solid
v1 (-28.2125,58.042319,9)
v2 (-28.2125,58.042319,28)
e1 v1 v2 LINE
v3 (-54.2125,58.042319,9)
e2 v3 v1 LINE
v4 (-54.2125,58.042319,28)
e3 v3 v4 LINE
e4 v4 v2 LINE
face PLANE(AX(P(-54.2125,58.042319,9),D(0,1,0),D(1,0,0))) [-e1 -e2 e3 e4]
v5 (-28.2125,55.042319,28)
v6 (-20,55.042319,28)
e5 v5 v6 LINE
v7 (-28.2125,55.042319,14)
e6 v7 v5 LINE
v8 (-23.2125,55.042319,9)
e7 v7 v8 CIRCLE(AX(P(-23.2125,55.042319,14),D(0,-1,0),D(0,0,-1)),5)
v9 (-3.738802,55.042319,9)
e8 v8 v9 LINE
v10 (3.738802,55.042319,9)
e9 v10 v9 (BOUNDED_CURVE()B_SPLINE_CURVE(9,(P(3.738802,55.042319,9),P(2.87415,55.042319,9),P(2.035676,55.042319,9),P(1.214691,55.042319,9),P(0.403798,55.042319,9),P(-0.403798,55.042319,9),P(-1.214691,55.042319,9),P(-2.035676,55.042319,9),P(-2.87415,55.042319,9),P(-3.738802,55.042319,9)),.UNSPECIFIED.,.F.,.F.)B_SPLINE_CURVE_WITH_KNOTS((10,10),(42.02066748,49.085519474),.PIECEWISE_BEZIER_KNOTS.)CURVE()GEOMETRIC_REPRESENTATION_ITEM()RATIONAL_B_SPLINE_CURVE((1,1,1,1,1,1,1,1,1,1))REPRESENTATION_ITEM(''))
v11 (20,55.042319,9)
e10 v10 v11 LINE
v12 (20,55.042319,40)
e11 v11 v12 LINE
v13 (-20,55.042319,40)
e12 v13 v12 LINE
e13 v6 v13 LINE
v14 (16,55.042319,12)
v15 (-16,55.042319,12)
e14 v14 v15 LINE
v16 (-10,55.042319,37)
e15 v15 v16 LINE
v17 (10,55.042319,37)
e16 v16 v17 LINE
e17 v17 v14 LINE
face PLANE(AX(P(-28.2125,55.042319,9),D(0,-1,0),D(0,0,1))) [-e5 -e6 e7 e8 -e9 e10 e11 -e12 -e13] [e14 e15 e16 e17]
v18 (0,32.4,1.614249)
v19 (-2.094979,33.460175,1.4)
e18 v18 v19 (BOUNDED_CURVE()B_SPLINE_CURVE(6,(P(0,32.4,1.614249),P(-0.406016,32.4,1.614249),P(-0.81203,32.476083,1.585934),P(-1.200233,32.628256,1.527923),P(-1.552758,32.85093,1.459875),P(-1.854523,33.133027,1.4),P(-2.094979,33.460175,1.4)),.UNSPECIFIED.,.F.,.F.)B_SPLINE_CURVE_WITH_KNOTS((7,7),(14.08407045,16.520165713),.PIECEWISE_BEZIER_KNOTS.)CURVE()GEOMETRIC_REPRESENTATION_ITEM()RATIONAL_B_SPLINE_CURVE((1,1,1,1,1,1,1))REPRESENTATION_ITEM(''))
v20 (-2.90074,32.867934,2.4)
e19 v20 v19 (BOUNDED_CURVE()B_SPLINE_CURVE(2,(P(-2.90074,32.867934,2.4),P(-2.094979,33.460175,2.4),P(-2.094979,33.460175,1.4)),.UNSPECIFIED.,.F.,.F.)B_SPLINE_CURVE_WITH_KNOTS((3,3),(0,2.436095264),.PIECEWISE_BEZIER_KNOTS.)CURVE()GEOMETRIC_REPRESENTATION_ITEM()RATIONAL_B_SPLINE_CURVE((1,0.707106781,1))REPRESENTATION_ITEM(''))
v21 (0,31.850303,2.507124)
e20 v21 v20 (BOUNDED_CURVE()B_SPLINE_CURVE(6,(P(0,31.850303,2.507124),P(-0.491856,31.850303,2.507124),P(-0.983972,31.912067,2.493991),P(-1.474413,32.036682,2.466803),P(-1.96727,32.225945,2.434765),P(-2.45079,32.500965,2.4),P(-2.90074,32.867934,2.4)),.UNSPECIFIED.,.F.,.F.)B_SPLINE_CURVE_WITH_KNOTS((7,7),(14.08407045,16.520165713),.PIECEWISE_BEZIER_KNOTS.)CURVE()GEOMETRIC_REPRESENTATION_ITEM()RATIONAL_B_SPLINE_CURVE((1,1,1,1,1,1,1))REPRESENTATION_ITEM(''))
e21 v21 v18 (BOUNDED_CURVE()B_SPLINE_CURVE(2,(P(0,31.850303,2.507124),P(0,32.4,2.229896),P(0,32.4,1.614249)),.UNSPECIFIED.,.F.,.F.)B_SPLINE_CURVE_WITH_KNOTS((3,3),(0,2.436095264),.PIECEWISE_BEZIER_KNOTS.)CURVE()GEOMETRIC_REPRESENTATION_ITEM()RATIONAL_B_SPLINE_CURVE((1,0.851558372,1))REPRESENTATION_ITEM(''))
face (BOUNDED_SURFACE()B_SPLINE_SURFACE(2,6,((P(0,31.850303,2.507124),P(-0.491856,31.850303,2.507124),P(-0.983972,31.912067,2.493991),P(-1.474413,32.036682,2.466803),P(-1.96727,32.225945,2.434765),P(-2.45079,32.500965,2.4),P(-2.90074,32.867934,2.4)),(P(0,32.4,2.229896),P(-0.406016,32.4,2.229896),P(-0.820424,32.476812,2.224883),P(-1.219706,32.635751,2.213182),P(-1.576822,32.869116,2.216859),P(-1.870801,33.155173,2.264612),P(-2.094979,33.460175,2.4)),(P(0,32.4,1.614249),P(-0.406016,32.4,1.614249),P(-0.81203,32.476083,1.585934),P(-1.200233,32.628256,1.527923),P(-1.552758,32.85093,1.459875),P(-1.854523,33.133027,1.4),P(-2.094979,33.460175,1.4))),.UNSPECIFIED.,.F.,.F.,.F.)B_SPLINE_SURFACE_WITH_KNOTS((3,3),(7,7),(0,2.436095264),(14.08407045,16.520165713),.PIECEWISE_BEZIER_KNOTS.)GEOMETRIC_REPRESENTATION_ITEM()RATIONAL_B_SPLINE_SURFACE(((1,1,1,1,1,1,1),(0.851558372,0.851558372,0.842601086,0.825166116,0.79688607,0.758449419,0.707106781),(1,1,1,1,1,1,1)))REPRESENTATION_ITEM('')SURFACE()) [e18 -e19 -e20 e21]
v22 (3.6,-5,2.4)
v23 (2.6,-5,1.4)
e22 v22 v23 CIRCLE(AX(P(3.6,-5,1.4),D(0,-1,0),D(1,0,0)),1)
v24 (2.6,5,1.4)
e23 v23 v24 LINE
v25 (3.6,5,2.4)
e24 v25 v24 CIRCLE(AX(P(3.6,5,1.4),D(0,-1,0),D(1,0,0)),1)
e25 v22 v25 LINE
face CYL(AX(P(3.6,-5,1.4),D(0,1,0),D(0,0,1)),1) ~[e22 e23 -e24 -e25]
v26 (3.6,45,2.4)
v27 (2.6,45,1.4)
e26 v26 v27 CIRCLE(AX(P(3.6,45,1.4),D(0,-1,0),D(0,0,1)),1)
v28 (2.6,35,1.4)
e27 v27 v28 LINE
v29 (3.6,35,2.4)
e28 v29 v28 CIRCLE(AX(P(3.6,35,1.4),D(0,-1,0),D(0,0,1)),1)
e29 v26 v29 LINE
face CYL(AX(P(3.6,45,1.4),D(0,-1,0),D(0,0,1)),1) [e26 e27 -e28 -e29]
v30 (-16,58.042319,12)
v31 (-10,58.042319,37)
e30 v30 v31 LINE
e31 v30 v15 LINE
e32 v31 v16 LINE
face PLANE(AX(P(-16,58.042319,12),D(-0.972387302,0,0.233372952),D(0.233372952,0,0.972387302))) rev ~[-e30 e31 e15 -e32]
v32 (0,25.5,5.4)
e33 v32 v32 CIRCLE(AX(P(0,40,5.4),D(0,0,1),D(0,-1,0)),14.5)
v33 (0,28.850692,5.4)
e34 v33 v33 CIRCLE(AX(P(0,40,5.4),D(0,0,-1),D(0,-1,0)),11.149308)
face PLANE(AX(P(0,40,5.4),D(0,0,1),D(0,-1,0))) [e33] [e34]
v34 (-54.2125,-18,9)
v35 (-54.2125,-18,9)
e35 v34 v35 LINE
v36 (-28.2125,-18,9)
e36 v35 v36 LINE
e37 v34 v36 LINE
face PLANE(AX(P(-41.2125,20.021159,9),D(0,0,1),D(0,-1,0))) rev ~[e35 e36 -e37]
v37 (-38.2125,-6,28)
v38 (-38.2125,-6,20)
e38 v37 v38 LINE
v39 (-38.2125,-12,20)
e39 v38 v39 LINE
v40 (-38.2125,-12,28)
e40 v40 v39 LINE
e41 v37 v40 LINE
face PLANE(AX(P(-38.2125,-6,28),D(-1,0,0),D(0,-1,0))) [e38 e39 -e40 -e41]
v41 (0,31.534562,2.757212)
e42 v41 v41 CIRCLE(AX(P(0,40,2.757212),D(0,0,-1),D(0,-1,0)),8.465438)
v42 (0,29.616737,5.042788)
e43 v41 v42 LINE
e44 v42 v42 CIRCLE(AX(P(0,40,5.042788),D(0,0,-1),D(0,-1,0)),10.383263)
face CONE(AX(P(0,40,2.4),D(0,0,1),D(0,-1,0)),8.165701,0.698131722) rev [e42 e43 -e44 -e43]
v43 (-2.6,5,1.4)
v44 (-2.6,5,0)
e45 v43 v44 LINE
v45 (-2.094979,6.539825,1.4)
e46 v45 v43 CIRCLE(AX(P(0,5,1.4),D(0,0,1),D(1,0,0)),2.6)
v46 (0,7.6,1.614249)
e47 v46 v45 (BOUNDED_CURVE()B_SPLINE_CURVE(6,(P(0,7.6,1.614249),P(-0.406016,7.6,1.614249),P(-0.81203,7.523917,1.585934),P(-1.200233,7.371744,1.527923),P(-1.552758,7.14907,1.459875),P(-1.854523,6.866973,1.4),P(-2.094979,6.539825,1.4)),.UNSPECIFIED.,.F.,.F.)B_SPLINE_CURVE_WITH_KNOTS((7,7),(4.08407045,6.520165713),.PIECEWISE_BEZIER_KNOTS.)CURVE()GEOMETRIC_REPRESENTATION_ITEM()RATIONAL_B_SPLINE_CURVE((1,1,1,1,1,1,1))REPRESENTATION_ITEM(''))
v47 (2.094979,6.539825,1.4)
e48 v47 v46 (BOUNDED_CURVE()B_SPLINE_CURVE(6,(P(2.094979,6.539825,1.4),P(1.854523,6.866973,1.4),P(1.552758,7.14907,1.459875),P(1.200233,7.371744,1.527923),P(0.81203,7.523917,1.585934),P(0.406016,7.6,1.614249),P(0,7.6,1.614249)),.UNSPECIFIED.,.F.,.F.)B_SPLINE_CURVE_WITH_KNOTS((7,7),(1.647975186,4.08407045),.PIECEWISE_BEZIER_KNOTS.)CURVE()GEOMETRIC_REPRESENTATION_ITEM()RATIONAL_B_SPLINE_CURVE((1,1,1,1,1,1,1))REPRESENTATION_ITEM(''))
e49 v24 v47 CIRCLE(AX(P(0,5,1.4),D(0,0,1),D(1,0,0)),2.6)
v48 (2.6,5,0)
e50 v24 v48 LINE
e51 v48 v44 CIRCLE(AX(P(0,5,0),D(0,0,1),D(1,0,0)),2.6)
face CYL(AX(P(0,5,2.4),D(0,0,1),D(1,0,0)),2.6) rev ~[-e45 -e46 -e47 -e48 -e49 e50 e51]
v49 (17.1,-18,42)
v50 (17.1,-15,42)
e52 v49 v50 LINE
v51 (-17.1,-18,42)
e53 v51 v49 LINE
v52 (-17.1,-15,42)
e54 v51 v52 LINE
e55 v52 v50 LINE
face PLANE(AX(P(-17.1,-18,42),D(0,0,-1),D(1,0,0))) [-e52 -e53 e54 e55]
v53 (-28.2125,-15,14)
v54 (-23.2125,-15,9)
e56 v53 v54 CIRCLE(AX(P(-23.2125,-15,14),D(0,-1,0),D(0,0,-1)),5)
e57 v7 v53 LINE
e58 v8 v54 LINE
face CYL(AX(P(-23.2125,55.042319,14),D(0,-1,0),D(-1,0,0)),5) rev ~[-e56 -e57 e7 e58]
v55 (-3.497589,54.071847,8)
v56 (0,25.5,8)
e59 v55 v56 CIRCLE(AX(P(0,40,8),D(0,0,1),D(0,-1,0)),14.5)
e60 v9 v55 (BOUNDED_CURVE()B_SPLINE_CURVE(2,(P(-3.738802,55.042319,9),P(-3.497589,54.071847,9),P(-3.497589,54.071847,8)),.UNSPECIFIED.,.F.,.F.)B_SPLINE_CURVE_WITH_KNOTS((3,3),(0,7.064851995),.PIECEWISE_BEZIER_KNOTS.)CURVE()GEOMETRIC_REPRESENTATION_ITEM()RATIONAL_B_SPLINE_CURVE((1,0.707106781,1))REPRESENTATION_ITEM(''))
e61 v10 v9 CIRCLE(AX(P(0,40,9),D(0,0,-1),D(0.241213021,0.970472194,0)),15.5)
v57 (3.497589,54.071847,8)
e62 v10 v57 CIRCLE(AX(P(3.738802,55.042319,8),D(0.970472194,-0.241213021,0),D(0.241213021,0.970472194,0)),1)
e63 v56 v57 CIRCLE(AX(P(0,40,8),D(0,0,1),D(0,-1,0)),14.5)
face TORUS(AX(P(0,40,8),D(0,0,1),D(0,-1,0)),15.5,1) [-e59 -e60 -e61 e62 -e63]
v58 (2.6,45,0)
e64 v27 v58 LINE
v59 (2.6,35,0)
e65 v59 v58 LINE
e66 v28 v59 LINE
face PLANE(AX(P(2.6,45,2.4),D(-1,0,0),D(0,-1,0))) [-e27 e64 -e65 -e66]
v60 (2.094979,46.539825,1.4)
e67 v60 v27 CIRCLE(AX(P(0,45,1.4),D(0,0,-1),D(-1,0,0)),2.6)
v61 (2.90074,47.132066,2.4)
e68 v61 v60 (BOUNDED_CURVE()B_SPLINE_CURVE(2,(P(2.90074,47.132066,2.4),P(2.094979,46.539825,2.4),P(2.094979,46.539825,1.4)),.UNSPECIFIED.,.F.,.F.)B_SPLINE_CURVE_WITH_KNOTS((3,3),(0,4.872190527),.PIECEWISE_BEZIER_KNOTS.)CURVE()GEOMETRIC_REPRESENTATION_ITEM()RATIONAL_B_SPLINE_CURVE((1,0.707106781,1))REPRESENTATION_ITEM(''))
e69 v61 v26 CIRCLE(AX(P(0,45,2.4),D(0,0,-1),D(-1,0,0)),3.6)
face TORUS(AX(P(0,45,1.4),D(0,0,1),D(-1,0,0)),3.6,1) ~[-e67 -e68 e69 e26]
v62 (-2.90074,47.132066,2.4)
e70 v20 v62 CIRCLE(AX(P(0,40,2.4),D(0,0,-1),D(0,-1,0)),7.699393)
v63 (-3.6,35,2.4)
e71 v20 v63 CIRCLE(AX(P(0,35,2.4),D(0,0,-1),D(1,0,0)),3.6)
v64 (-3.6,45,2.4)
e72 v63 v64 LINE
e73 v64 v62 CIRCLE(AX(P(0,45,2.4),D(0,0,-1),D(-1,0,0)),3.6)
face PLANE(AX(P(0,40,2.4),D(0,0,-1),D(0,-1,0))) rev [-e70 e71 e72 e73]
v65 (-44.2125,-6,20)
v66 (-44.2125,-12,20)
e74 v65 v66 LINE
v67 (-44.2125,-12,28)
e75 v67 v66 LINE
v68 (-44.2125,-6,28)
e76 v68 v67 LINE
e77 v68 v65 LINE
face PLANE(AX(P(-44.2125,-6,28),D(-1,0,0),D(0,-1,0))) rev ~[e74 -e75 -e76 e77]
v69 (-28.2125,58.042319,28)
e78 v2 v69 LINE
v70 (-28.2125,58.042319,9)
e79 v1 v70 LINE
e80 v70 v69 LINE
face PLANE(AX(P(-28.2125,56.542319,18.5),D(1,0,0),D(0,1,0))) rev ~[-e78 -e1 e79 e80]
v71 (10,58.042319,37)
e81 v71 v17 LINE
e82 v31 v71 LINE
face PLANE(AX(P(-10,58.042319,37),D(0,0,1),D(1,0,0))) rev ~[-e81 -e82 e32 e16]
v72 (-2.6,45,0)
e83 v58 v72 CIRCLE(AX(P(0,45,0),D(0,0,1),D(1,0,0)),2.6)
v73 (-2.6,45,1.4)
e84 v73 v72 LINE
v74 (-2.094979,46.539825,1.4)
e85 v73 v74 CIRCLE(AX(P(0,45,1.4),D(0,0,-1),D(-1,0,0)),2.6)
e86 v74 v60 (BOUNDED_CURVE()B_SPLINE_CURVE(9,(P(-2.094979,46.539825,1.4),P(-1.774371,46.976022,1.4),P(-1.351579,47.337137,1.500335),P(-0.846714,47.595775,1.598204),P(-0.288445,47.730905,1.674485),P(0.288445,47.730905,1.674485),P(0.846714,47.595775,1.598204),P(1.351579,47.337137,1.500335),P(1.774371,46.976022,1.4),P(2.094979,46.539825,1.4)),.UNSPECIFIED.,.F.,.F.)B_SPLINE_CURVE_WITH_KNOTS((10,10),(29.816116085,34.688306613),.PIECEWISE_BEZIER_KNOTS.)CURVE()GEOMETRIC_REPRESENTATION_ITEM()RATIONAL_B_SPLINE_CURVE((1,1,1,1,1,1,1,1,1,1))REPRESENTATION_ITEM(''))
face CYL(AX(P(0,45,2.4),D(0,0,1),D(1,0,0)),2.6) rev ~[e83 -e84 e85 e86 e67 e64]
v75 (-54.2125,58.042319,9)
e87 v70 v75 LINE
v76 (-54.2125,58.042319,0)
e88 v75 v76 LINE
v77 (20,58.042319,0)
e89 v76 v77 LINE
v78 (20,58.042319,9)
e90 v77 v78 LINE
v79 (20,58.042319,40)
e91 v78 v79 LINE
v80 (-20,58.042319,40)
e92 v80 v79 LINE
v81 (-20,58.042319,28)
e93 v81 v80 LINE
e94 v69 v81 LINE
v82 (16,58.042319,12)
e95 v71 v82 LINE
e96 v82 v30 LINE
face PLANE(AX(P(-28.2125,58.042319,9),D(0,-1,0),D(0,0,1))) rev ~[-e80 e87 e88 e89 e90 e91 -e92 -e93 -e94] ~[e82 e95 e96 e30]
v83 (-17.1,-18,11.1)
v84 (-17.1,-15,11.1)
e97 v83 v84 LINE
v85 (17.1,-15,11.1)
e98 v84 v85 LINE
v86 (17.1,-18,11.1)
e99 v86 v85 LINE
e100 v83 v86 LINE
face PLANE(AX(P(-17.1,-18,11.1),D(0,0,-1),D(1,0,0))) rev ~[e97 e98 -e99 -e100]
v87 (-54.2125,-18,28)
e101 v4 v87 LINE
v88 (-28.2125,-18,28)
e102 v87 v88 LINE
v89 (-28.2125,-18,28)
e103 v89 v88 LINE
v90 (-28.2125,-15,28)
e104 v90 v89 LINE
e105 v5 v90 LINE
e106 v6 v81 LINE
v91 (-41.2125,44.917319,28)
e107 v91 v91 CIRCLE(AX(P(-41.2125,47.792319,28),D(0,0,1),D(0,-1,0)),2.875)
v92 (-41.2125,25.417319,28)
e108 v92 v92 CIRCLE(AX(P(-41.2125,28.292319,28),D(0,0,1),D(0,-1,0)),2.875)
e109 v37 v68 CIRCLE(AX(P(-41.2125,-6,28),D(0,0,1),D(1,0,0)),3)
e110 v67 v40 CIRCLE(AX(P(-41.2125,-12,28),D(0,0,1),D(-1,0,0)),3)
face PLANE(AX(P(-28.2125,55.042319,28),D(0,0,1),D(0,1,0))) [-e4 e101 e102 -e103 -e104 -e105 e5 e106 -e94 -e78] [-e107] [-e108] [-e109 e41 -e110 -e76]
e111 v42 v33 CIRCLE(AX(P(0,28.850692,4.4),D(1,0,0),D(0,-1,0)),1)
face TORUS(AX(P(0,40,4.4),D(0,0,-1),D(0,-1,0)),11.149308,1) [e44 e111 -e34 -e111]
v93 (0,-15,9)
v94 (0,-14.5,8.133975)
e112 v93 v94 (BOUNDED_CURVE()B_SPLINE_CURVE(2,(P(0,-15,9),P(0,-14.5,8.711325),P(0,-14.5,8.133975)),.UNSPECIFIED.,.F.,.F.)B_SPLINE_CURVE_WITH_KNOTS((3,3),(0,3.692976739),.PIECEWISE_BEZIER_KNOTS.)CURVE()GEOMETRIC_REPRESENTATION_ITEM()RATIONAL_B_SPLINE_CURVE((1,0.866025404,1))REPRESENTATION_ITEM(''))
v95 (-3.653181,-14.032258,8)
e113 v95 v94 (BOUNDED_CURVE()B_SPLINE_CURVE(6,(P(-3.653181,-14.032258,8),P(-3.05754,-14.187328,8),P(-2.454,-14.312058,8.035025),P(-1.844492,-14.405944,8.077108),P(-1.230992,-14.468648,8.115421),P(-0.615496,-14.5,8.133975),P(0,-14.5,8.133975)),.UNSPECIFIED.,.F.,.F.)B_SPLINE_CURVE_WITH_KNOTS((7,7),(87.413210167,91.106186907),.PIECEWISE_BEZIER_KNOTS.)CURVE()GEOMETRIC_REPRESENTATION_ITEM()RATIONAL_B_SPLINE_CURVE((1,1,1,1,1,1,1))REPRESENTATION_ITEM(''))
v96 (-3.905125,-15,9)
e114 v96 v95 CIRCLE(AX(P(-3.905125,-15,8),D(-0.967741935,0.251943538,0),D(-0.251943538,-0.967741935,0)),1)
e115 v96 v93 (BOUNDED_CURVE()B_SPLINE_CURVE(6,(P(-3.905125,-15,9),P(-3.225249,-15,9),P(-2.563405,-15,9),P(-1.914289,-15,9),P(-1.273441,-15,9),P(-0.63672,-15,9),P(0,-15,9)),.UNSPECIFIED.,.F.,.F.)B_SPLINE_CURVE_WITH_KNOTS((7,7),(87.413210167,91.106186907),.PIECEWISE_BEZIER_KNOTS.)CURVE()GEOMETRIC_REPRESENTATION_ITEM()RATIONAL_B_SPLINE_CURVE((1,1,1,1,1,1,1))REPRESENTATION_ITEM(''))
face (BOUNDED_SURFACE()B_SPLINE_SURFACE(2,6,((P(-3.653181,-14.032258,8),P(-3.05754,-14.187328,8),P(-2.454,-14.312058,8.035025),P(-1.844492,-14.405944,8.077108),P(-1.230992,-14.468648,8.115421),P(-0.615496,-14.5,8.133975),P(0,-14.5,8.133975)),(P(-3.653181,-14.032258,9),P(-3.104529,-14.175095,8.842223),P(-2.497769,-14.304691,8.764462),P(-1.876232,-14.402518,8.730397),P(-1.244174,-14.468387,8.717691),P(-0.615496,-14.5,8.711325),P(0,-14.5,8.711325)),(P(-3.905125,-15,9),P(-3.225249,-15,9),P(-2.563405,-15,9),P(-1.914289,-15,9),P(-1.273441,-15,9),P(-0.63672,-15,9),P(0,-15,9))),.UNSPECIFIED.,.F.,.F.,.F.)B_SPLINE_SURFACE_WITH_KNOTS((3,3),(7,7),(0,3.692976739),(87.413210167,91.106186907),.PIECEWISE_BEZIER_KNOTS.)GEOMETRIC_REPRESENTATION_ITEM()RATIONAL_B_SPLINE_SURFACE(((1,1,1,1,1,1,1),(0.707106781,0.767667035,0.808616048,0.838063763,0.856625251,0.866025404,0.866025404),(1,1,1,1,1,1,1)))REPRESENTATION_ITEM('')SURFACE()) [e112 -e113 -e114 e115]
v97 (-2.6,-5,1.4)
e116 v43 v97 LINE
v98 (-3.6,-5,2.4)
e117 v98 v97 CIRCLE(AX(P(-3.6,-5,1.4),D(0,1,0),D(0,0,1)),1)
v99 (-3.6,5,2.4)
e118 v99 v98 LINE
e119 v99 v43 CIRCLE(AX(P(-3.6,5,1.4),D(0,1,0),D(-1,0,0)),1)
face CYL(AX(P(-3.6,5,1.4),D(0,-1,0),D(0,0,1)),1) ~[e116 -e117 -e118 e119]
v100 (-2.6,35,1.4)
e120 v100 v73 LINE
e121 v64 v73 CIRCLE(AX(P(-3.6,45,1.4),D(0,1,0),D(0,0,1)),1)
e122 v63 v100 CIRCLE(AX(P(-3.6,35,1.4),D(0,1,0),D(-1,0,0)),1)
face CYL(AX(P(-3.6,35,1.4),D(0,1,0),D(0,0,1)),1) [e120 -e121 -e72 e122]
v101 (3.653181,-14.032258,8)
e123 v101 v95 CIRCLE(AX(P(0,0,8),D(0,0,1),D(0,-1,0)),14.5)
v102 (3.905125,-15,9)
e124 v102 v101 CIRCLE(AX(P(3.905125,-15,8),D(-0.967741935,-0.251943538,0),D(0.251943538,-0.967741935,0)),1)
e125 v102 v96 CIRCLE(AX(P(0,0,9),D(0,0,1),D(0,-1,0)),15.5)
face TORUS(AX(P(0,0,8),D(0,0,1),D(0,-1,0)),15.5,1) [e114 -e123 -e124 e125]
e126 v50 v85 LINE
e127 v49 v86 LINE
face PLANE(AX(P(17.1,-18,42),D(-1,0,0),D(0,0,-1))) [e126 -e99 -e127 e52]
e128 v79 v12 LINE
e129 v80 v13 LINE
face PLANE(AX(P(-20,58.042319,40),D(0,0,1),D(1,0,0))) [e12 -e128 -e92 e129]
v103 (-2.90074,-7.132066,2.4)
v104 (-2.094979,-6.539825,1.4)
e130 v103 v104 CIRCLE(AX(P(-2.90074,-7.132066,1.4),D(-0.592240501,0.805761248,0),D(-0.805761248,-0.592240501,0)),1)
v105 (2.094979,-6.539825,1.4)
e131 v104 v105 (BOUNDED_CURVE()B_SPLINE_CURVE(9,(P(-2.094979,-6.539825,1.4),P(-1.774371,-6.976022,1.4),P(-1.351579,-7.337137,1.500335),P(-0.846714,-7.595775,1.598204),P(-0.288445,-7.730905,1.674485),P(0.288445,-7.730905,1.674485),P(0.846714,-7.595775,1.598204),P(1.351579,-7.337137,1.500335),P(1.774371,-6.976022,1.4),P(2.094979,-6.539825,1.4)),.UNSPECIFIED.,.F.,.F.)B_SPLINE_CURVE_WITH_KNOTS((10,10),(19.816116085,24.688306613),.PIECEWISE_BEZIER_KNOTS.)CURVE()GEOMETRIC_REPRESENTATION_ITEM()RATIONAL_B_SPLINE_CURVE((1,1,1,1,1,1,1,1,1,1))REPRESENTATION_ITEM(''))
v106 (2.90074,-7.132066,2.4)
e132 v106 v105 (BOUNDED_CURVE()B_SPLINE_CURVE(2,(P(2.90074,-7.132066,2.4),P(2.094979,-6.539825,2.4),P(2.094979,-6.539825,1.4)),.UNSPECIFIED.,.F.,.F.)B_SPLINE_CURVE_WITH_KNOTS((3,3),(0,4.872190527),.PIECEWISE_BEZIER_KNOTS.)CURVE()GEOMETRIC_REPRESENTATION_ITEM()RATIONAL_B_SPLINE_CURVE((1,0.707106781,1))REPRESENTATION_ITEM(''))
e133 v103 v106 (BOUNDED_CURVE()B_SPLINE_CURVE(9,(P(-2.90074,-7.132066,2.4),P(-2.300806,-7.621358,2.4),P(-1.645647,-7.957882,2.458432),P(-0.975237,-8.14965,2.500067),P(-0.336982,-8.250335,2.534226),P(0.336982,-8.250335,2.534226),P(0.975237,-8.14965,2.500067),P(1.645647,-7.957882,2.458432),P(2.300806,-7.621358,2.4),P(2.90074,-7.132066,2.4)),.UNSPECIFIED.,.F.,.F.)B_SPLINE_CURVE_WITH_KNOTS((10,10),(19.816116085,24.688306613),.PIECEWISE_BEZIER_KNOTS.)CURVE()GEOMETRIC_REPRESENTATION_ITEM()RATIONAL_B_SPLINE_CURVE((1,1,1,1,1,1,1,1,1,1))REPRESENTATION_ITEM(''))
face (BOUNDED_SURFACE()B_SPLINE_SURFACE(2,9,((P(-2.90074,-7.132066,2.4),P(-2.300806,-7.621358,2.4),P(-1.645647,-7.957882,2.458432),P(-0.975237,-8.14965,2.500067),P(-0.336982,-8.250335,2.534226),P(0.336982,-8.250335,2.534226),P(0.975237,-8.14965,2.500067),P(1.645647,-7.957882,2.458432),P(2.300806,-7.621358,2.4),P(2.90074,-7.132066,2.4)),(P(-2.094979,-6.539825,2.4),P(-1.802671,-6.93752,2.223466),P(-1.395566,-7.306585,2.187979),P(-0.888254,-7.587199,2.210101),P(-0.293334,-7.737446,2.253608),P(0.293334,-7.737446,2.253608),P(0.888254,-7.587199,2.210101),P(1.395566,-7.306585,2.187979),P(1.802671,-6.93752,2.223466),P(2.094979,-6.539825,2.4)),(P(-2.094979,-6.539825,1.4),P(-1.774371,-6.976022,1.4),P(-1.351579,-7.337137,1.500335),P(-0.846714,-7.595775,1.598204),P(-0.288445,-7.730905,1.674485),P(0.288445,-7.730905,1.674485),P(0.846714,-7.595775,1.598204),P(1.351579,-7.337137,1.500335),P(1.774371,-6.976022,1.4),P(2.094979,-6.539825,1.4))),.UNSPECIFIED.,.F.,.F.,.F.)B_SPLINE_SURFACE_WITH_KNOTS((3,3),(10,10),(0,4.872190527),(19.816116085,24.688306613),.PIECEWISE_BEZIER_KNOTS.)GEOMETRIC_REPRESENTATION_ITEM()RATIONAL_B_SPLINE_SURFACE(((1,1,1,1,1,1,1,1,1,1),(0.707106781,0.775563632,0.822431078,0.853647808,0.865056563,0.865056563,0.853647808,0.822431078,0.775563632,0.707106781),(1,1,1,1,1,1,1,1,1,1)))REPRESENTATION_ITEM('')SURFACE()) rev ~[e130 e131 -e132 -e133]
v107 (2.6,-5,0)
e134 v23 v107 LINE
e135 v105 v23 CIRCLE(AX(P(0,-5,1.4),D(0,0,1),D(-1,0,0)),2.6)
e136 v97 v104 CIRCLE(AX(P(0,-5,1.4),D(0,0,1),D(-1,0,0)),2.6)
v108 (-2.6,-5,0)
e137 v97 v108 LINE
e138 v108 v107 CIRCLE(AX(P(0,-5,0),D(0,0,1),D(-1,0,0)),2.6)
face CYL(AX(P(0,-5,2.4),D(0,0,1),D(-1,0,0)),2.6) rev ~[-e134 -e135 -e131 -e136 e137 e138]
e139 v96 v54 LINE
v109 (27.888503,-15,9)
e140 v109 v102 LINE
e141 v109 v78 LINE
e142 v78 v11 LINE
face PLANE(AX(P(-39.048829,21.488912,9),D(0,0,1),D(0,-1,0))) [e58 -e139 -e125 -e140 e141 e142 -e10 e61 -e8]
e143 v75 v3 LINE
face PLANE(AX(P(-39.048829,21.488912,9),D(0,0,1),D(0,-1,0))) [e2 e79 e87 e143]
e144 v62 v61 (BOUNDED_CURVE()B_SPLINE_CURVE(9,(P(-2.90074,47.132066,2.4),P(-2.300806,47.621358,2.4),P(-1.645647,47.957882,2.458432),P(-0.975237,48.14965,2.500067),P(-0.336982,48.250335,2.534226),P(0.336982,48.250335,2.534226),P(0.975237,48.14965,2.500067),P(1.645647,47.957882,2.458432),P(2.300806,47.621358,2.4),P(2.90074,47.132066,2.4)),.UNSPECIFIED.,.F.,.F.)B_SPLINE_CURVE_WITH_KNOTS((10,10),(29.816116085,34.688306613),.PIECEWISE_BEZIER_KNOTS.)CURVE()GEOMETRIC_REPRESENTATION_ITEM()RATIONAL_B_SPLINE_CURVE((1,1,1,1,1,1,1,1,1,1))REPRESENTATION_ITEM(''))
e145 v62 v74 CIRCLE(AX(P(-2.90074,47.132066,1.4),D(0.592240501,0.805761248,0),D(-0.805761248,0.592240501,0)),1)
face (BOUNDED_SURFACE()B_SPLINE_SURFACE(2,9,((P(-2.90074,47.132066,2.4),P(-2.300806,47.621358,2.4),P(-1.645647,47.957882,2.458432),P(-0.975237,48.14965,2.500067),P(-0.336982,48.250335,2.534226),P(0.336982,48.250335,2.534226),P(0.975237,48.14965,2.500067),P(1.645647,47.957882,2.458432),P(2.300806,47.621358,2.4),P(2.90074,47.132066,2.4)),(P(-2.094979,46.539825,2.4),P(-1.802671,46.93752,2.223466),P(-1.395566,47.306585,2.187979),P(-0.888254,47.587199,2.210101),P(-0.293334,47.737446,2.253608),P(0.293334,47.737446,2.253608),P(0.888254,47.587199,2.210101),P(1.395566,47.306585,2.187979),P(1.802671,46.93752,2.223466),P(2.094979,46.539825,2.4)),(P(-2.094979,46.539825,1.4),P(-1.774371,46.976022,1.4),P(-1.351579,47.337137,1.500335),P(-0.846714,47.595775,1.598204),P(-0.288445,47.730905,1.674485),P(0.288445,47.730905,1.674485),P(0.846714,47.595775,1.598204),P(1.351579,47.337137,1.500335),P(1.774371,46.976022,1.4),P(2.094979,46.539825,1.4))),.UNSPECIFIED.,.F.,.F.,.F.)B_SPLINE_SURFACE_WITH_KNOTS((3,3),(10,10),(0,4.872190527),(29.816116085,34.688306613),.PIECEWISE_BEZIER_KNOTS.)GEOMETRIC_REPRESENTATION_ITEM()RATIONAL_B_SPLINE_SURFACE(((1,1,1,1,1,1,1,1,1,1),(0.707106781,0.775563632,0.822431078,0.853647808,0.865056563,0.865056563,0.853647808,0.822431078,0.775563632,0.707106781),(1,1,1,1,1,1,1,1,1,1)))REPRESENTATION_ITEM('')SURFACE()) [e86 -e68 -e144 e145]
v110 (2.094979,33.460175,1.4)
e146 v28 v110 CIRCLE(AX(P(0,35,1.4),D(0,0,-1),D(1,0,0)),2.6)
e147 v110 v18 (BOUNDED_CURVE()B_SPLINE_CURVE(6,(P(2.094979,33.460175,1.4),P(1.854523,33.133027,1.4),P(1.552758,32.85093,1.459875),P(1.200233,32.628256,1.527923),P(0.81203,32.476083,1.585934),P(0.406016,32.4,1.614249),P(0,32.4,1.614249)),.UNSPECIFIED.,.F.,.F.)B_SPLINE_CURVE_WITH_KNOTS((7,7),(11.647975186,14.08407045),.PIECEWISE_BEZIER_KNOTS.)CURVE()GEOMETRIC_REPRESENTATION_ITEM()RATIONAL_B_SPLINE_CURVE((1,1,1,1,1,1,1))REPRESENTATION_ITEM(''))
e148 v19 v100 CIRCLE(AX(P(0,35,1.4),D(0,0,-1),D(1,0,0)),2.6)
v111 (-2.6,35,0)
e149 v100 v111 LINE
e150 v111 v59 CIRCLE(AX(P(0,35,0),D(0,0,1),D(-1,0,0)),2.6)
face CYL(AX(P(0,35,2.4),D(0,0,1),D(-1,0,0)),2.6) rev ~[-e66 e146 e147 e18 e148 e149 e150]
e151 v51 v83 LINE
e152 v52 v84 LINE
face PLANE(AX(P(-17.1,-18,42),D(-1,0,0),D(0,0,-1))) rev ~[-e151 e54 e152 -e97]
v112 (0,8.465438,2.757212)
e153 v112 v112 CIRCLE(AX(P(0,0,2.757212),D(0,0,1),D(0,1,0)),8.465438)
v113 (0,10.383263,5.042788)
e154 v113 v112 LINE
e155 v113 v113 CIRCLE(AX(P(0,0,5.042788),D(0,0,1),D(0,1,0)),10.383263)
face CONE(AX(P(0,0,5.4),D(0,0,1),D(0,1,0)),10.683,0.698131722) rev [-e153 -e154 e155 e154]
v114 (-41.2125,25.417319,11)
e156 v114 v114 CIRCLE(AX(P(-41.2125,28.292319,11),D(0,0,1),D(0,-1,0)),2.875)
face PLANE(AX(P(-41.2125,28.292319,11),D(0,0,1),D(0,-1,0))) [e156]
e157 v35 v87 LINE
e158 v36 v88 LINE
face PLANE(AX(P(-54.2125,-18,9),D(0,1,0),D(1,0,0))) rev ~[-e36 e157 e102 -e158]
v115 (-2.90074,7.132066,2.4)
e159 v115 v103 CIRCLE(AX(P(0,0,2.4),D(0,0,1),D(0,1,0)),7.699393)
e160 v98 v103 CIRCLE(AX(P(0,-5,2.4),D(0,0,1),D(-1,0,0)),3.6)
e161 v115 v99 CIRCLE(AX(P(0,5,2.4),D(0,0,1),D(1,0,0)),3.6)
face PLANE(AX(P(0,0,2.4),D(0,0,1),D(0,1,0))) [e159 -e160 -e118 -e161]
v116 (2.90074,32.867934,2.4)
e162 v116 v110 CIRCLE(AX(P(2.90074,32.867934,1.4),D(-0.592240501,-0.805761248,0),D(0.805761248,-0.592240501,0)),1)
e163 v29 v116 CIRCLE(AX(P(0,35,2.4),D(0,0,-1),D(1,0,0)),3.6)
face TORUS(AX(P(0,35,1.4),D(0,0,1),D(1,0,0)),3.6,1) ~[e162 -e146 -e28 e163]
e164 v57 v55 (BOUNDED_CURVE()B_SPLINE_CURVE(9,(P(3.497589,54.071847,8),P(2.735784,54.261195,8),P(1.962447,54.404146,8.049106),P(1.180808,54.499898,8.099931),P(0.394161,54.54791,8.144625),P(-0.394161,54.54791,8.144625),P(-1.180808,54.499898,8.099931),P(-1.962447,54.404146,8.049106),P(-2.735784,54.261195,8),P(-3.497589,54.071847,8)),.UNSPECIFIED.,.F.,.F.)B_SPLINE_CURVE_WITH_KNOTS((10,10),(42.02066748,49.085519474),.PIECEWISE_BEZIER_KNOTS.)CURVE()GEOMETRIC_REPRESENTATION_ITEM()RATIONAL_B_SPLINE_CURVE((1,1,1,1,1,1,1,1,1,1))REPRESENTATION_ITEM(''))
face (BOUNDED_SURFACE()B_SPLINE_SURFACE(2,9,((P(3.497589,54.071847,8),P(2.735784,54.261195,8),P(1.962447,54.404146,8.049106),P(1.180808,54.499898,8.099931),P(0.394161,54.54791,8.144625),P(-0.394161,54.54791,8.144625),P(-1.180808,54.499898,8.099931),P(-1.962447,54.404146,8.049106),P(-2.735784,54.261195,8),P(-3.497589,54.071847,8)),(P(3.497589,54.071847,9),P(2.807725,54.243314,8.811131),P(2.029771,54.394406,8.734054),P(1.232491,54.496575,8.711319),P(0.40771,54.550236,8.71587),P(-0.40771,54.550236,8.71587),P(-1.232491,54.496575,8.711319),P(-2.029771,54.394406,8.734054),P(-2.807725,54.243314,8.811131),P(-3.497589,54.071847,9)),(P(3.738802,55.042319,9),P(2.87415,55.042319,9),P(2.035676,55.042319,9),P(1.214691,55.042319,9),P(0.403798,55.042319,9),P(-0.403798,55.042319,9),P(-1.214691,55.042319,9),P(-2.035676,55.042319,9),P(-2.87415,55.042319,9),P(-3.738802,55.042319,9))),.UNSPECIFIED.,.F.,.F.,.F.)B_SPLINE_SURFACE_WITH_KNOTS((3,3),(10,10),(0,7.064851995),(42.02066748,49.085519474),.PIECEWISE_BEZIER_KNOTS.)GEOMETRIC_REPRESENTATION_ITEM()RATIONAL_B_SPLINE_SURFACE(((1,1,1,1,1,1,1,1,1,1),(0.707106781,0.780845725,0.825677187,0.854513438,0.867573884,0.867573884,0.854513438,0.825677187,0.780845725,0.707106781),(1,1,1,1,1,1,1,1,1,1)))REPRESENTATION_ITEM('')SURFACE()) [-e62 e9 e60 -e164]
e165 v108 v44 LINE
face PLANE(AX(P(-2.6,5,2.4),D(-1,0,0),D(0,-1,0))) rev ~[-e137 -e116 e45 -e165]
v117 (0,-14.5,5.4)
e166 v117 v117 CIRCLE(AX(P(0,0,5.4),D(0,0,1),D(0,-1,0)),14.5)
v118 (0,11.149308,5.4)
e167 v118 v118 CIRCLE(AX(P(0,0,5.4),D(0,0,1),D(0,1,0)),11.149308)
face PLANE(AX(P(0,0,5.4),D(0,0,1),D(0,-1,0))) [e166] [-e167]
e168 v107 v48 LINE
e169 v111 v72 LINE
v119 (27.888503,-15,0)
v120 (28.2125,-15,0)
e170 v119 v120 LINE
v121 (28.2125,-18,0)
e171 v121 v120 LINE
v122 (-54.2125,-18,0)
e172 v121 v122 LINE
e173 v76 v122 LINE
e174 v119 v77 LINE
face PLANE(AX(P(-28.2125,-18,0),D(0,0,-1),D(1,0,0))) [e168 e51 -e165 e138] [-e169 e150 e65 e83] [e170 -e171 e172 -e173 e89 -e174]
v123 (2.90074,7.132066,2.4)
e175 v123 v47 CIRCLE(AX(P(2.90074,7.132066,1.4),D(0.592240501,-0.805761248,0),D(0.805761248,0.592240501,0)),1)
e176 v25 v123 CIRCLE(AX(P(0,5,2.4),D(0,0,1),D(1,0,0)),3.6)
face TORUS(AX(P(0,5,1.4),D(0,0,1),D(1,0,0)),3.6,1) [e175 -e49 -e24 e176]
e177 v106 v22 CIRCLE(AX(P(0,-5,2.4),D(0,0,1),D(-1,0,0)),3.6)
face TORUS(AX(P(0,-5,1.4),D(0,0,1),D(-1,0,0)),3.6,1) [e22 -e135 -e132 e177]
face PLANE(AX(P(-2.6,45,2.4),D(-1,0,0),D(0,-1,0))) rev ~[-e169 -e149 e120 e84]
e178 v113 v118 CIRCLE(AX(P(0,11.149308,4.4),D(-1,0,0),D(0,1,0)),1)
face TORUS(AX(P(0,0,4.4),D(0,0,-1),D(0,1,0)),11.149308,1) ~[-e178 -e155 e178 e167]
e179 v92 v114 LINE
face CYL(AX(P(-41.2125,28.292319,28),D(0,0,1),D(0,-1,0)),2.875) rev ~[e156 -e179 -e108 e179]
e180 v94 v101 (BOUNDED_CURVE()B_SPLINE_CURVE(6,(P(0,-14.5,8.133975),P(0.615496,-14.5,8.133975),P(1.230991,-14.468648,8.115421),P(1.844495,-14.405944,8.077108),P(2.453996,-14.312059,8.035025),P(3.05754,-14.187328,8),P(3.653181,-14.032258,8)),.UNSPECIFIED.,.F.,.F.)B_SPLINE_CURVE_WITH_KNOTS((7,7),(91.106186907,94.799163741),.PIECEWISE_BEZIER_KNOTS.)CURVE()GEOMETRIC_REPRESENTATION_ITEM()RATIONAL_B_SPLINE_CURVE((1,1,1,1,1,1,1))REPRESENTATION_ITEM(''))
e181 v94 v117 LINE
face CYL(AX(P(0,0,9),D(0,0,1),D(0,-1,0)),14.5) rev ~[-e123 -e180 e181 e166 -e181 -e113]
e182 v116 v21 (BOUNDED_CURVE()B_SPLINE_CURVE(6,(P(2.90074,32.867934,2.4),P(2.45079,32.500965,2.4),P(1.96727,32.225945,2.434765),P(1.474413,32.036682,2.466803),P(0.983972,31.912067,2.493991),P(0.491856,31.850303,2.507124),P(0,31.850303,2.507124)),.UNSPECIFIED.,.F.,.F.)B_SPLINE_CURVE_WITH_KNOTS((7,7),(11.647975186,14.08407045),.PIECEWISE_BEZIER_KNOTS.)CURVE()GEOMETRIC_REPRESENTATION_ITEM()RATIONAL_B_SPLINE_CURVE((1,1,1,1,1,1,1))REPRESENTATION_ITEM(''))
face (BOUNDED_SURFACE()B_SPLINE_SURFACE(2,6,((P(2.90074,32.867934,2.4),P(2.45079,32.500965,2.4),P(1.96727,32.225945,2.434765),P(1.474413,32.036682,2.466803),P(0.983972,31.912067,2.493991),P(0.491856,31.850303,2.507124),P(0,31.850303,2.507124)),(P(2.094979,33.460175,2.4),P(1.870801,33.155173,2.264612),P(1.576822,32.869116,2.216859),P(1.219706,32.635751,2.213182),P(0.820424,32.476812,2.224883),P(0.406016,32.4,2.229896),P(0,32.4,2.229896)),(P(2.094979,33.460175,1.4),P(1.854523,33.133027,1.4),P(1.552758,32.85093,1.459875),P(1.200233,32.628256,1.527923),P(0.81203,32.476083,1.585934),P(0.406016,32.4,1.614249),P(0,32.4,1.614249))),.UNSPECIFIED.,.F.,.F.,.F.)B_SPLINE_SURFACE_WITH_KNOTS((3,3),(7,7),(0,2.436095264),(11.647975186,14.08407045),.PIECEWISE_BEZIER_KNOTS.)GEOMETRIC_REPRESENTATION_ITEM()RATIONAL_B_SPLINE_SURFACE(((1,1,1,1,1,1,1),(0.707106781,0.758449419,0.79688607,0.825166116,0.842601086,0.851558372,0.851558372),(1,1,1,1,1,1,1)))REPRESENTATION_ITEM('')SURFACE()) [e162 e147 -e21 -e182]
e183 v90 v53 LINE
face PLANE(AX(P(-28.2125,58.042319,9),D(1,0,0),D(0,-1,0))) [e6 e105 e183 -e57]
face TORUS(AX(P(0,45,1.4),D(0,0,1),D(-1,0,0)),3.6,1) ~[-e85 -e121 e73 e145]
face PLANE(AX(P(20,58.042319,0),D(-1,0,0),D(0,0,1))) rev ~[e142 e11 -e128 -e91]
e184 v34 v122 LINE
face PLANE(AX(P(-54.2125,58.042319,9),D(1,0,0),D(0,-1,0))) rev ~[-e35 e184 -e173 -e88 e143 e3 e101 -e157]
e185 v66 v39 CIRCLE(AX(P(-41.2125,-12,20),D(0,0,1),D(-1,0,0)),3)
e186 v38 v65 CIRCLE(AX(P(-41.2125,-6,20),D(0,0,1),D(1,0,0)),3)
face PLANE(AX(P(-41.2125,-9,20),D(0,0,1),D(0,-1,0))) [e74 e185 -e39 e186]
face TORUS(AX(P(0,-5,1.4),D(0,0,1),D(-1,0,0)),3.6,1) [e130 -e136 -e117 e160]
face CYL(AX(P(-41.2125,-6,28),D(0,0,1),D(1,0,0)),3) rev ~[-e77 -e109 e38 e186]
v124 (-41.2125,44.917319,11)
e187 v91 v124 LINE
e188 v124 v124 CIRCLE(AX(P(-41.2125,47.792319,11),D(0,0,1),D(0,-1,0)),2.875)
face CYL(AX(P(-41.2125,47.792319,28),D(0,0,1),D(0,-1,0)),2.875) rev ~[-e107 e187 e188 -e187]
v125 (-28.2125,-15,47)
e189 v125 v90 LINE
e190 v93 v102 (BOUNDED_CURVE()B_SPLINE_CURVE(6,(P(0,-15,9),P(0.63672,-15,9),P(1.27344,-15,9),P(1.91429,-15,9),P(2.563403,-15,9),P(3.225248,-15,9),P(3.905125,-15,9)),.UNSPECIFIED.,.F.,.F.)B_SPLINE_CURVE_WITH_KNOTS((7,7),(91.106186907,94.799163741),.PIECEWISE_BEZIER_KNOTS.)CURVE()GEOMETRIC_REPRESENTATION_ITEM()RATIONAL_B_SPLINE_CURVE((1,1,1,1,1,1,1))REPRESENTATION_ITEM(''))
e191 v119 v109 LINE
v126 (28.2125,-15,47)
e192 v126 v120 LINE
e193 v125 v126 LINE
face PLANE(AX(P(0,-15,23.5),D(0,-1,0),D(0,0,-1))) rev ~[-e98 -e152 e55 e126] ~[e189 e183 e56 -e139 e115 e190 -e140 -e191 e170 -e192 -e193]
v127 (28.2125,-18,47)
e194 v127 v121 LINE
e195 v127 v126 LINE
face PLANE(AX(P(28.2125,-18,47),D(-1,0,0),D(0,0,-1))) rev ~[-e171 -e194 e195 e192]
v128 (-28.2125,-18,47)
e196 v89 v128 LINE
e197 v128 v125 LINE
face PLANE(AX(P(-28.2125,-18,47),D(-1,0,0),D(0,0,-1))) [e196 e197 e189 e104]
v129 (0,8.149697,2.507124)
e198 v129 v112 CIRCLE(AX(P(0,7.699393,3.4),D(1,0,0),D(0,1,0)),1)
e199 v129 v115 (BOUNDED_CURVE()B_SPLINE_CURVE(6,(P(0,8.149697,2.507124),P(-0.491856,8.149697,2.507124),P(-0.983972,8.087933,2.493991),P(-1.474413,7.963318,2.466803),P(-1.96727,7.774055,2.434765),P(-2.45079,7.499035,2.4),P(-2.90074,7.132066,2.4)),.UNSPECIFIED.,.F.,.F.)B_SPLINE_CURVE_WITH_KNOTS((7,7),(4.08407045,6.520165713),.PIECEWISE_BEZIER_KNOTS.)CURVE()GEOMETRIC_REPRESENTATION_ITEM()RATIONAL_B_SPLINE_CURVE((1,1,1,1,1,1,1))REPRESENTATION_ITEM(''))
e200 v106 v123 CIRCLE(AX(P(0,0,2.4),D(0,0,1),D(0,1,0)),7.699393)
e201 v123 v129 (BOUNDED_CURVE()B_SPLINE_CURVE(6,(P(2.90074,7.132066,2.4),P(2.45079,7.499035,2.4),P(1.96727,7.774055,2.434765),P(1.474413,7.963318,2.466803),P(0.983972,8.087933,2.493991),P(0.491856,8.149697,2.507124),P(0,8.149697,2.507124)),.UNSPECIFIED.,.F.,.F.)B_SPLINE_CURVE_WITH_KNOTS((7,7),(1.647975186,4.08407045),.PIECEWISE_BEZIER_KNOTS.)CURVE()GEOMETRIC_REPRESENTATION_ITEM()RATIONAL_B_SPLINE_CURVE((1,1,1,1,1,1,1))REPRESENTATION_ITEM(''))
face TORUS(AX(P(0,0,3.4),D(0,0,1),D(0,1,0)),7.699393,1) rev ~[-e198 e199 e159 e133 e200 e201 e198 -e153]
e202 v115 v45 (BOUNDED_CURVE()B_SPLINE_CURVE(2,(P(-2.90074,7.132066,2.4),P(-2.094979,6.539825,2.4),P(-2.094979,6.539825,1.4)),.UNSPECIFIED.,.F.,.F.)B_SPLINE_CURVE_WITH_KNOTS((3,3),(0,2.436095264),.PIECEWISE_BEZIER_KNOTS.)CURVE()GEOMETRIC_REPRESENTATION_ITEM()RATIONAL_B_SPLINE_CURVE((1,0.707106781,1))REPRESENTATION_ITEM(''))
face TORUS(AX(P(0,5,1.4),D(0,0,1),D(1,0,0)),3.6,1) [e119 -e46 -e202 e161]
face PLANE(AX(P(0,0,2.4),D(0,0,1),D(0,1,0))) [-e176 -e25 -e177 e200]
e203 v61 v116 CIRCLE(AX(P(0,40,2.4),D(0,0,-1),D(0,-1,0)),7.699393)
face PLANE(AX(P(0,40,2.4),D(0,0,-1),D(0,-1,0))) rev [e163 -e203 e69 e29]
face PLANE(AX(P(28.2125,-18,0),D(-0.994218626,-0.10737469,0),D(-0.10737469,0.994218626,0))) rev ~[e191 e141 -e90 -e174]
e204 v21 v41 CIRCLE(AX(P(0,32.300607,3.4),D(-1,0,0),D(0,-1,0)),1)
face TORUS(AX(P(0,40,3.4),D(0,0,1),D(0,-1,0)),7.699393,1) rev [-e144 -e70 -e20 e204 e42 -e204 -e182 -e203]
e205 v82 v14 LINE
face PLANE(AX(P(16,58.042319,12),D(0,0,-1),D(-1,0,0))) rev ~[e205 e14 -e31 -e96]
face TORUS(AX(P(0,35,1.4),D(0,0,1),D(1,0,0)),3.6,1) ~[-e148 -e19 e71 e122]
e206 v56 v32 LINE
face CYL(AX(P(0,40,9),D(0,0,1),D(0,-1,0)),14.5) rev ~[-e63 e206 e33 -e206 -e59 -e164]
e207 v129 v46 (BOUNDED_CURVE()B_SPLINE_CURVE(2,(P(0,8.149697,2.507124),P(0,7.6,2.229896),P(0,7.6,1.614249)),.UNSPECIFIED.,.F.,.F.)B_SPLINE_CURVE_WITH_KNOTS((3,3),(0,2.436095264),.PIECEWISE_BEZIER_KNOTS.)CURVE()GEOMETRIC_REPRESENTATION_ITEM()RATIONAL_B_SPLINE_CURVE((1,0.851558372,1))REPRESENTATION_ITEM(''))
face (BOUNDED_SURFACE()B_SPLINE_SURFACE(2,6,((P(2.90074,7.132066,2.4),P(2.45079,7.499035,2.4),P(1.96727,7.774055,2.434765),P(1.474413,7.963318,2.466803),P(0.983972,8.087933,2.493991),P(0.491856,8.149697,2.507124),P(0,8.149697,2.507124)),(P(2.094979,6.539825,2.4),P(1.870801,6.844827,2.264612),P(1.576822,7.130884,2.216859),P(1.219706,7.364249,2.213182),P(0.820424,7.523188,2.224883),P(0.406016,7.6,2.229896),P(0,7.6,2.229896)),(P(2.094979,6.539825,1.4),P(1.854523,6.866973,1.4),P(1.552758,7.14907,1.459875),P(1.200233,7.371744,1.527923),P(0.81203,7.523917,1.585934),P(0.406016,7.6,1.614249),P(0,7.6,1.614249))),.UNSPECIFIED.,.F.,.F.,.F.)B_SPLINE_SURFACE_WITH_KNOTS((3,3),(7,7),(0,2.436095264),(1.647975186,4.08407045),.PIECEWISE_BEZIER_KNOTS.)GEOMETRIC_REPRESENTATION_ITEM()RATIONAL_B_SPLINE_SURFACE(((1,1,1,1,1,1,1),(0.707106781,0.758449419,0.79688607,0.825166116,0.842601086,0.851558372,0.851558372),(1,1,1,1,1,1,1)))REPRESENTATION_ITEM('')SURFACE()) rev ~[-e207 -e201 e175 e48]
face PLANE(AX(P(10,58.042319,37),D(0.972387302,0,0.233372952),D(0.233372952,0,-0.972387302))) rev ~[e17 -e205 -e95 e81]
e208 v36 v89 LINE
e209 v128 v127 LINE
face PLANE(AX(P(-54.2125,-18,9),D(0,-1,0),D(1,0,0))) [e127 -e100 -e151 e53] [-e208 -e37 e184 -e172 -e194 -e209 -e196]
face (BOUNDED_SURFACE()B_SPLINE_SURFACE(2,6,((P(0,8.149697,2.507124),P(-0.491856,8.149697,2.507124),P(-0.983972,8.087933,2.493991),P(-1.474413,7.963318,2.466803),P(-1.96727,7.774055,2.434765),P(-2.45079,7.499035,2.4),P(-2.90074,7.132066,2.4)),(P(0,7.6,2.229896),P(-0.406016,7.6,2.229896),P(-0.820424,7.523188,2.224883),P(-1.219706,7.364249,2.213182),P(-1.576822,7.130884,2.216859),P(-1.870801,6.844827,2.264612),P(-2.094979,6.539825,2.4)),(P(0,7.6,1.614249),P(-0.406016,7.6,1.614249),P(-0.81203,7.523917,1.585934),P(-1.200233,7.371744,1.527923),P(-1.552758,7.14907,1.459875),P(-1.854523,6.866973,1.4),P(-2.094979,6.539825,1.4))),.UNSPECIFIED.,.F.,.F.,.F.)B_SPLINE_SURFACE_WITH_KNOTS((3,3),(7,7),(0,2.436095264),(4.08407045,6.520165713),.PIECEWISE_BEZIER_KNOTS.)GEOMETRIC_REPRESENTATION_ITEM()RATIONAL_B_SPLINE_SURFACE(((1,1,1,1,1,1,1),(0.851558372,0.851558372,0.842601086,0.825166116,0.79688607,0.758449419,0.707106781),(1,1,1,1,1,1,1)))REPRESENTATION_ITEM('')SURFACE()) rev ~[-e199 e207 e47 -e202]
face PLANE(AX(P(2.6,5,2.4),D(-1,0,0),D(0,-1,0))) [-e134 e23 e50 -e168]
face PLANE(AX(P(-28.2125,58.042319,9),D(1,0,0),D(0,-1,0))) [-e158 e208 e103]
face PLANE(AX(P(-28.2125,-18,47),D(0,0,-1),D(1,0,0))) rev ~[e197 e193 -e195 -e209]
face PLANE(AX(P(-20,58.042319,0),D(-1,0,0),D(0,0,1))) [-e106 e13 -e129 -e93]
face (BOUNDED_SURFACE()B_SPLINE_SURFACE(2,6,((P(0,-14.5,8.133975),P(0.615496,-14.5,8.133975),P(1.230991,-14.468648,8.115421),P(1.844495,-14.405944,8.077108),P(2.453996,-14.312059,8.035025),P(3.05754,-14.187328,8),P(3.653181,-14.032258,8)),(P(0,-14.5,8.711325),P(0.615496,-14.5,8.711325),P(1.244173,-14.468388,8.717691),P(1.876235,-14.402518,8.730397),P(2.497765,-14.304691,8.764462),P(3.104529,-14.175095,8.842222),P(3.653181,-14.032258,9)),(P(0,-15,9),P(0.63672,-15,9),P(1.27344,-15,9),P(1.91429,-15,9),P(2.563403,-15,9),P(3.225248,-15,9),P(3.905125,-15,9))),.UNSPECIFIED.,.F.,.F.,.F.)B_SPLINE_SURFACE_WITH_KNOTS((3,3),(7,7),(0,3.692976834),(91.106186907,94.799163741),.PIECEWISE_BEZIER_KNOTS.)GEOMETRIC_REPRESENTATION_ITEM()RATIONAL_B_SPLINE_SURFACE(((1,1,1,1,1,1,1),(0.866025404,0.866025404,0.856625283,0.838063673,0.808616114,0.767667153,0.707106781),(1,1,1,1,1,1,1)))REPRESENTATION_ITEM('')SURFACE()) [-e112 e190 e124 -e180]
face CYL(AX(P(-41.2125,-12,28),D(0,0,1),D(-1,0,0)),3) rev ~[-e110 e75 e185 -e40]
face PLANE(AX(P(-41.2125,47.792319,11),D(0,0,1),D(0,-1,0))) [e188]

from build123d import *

# Parameters (mm, degrees)
POCKET_DEPTH    = 5
FILLET_R        = 1
FILLET001_R     = 1
FILLET002_R     = 1
SKETCH002_R     = 14.142
PAD_DEPTH       = 9
SKETCH003_W     = 40
SKETCH003_H     = 40
PAD001_DEPTH    = 3
SKETCH004_W     = 47
SKETCH004_H     = 56.425
PAD002_DEPTH    = 3
SKETCH005_W     = 30.9
SKETCH005_H     = 34.2
POCKET001_DEPTH = 3
POCKET002_DEPTH = 3
PAD003_DEPTH    = 9
POCKET003_DEPTH = 5
FILLET003_R     = 1
FILLET004_R     = 1
FILLET005_R     = 1
SKETCH010_W     = 76.042319
SKETCH010_H     = 26
PAD004_DEPTH    = 19
SKETCH011_R     = 2.875
POCKET004_DEPTH = 17
POCKET005_DEPTH = 8
SKETCH013_W     = 3
SKETCH013_H     = 19
PAD005_DEPTH    = 10
SKETCH014_R     = 14.5
POCKET006_DEPTH = 3.6
FILLET006_R     = 1
FILLET007_R     = 5


with BuildPart() as part:
    # Sketch → Revolution (revolve)
    with BuildSketch(Plane.YZ):
        Polygon((0, 0), (14.142, 0), (14.142, 5.4), (10.683, 5.4), (8.165701, 2.4), (0, 2.4), align=None)
    revolve(axis=Axis((0, 0, 0), (0, 0, 1)))

    # Sketch001 (on Face5 of Revolution) → Pocket (cut)
    with BuildSketch(Plane(origin=(0, 0, 2.4), x_dir=(0, -1, 0), z_dir=(0, 0, 1))):
        with BuildLine():
            Line((-5, 2.6), (5, 2.6))
            ThreePointArc((5, -2.6), (7.6, 0), (5, 2.6))
            Line((-5, -2.6), (5, -2.6))
            ThreePointArc((-5, 2.6), (-7.6, 0), (-5, -2.6))
        make_face()
    extrude(amount=-POCKET_DEPTH, mode=Mode.SUBTRACT)

    # Fillet
    fillet_edges = [part.edges().sort_by_distance(p)[0] for p in [
        (0, -8.165701, 2.4),
    ]]
    fillet(fillet_edges, radius=FILLET_R)

    # Fillet001
    fillet001_edges = [part.edges().sort_by_distance(p)[0] for p in [
        (0, 7.6, 2.4),
    ]]
    fillet(fillet001_edges, radius=FILLET001_R)

    # Fillet002
    fillet002_edges = [part.edges().sort_by_distance(p)[0] for p in [
        (0, -10.683, 5.4),
    ]]
    fillet(fillet002_edges, radius=FILLET002_R)

    # Sketch002 (on Face19 of Fillet002) → Pad (join)
    with BuildSketch(Plane.YX):
        Polygon((58.042319, 20), (58.042319, -20), (-18, -28.2125), (-18, 28.2125), align=None)
        Circle(SKETCH002_R, mode=Mode.SUBTRACT)
    extrude(amount=-PAD_DEPTH)

    # Sketch003 (on Face23 of Pad) → Pad001 (join)
    with BuildSketch(Plane.ZX.offset(58.042319)):
        with Locations((20, 0)):
            Rectangle(SKETCH003_W, SKETCH003_H)
    extrude(amount=-PAD001_DEPTH)

    # Sketch004 (on Face23 of Pad001) → Pad002 (join)
    with BuildSketch(Plane(origin=(0, -18, 0), x_dir=(0, 0, -1), z_dir=(0, -1, 0))):
        with Locations((-23.5, 0)):
            Rectangle(SKETCH004_W, SKETCH004_H)
    extrude(amount=-PAD002_DEPTH)

    # Sketch005 (on Face34 of Pad002) → Pocket001 (cut)
    with BuildSketch(Plane(origin=(0, -18, 0), x_dir=(0, 0, -1), z_dir=(0, -1, 0))):
        with Locations((-26.55, 0)):
            Rectangle(SKETCH005_W, SKETCH005_H)
    extrude(amount=-POCKET001_DEPTH, mode=Mode.SUBTRACT)

    # Sketch006 (on Face29 of Pocket001) → Pocket002 (cut)
    with BuildSketch(Plane.ZX.offset(58.042319)):
        Polygon((12, 16), (12, -16), (37, -10), (37, 10), align=None)
    extrude(amount=-POCKET002_DEPTH, mode=Mode.SUBTRACT)

    # Sketch007 (on Face19 of Pocket002) → Pad003 (join)
    with BuildSketch(Plane(origin=(0, 0, 9), x_dir=(0, -1, 0), z_dir=(0, 0, 1))):
        Polygon((18, -28.2125), (-58.042319, -20), (-58.042319, -54.2125), (18, -54.2125), align=None)
    extrude(amount=-PAD003_DEPTH)

    # Sketch008 (on DatumPlane) → Groove (revolve, cut)
    with BuildSketch(Plane.YZ):
        Polygon((25.858, 9), (40, 9), (40, 2.4), (31.834299, 2.4), (29.317, 5.4), (25.858, 5.4), align=None)
    revolve(axis=Axis((0, 40, 9), (0, 0, -1)), mode=Mode.SUBTRACT)

    # Sketch009 (on Face46 of Groove) → Pocket003 (cut)
    with BuildSketch(Plane(origin=(0, 0, 2.4), x_dir=(0, -1, 0), z_dir=(0, 0, 1))):
        with BuildLine():
            Line((-45, 2.6), (-35, 2.6))
            ThreePointArc((-35, -2.6), (-32.4, 0), (-35, 2.6))
            Line((-45, -2.6), (-35, -2.6))
            ThreePointArc((-45, 2.6), (-47.6, 0), (-45, -2.6))
        make_face()
    extrude(amount=-POCKET003_DEPTH, mode=Mode.SUBTRACT)

    # Fillet003
    fillet003_edges = [part.edges().sort_by_distance(p)[0] for p in [
        (0, 48.165701, 2.4),
    ]]
    fillet(fillet003_edges, radius=FILLET003_R)

    # Fillet004
    fillet004_edges = [part.edges().sort_by_distance(p)[0] for p in [
        (2.6, 40, 2.4),
    ]]
    fillet(fillet004_edges, radius=FILLET004_R)

    # Fillet005
    fillet005_edges = [part.edges().sort_by_distance(p)[0] for p in [
        (0, 50.683, 5.4),
    ]]
    fillet(fillet005_edges, radius=FILLET005_R)

    # Sketch010 (on Face19 of Fillet005) → Pad004 (join)
    with BuildSketch(Plane(origin=(0, 0, 9), x_dir=(0, -1, 0), z_dir=(0, 0, 1))):
        with Locations((-20.021159, -41.2125)):
            Rectangle(SKETCH010_W, SKETCH010_H)
    extrude(amount=PAD004_DEPTH)

    # Sketch011 (on Face41 of Pad004) → Pocket004 (cut)
    with BuildSketch(Plane(origin=(0, 0, 28), x_dir=(0, -1, 0), z_dir=(0, 0, 1))):
        with Locations((-47.792319, -41.2125)):
            Circle(SKETCH011_R)
        with Locations((-28.292319, -41.2125)):
            Circle(SKETCH011_R)
    extrude(amount=-POCKET004_DEPTH, mode=Mode.SUBTRACT)

    # Sketch012 (on Face44 of Pocket004) → Pocket005 (cut)
    with BuildSketch(Plane(origin=(0, 0, 28), x_dir=(0, -1, 0), z_dir=(0, 0, 1))):
        with BuildLine():
            ThreePointArc((6, -38.2125), (3, -41.2125), (6, -44.2125))
            Line((6, -44.2125), (12, -44.2125))
            ThreePointArc((12, -44.2125), (15, -41.2125), (12, -38.2125))
            Line((6, -38.2125), (12, -38.2125))
        make_face()
    extrude(amount=-POCKET005_DEPTH, mode=Mode.SUBTRACT)

    # Sketch013 (on Face25 of Pocket004) → Pad005 (join)
    with BuildSketch(Plane.YZ.offset(-28.2125)):
        with Locations((56.542319, 18.5)):
            Rectangle(SKETCH013_W, SKETCH013_H)
    extrude(amount=PAD005_DEPTH)

    # Sketch014 (on Face19 of Pad005) → Pocket006 (cut)
    with BuildSketch(Plane(origin=(0, 0, 9), x_dir=(0, -1, 0), z_dir=(0, 0, 1))):
        with Locations((-40, 0)):
            Circle(SKETCH014_R)
        Circle(SKETCH014_R)
    extrude(amount=-POCKET006_DEPTH, mode=Mode.SUBTRACT)

    # Fillet006
    fillet006_edges = [part.edges().sort_by_distance(p)[0] for p in [
        (0, 14.5, 9),
        (0, 54.5, 9),
    ]]
    fillet(fillet006_edges, radius=FILLET006_R)

    # Fillet007
    fillet007_edges = [part.edges().sort_by_distance(p)[0] for p in [
        (-28.2125, 20.021159, 9),
    ]]
    fillet(fillet007_edges, radius=FILLET007_R)


solid = part.part
